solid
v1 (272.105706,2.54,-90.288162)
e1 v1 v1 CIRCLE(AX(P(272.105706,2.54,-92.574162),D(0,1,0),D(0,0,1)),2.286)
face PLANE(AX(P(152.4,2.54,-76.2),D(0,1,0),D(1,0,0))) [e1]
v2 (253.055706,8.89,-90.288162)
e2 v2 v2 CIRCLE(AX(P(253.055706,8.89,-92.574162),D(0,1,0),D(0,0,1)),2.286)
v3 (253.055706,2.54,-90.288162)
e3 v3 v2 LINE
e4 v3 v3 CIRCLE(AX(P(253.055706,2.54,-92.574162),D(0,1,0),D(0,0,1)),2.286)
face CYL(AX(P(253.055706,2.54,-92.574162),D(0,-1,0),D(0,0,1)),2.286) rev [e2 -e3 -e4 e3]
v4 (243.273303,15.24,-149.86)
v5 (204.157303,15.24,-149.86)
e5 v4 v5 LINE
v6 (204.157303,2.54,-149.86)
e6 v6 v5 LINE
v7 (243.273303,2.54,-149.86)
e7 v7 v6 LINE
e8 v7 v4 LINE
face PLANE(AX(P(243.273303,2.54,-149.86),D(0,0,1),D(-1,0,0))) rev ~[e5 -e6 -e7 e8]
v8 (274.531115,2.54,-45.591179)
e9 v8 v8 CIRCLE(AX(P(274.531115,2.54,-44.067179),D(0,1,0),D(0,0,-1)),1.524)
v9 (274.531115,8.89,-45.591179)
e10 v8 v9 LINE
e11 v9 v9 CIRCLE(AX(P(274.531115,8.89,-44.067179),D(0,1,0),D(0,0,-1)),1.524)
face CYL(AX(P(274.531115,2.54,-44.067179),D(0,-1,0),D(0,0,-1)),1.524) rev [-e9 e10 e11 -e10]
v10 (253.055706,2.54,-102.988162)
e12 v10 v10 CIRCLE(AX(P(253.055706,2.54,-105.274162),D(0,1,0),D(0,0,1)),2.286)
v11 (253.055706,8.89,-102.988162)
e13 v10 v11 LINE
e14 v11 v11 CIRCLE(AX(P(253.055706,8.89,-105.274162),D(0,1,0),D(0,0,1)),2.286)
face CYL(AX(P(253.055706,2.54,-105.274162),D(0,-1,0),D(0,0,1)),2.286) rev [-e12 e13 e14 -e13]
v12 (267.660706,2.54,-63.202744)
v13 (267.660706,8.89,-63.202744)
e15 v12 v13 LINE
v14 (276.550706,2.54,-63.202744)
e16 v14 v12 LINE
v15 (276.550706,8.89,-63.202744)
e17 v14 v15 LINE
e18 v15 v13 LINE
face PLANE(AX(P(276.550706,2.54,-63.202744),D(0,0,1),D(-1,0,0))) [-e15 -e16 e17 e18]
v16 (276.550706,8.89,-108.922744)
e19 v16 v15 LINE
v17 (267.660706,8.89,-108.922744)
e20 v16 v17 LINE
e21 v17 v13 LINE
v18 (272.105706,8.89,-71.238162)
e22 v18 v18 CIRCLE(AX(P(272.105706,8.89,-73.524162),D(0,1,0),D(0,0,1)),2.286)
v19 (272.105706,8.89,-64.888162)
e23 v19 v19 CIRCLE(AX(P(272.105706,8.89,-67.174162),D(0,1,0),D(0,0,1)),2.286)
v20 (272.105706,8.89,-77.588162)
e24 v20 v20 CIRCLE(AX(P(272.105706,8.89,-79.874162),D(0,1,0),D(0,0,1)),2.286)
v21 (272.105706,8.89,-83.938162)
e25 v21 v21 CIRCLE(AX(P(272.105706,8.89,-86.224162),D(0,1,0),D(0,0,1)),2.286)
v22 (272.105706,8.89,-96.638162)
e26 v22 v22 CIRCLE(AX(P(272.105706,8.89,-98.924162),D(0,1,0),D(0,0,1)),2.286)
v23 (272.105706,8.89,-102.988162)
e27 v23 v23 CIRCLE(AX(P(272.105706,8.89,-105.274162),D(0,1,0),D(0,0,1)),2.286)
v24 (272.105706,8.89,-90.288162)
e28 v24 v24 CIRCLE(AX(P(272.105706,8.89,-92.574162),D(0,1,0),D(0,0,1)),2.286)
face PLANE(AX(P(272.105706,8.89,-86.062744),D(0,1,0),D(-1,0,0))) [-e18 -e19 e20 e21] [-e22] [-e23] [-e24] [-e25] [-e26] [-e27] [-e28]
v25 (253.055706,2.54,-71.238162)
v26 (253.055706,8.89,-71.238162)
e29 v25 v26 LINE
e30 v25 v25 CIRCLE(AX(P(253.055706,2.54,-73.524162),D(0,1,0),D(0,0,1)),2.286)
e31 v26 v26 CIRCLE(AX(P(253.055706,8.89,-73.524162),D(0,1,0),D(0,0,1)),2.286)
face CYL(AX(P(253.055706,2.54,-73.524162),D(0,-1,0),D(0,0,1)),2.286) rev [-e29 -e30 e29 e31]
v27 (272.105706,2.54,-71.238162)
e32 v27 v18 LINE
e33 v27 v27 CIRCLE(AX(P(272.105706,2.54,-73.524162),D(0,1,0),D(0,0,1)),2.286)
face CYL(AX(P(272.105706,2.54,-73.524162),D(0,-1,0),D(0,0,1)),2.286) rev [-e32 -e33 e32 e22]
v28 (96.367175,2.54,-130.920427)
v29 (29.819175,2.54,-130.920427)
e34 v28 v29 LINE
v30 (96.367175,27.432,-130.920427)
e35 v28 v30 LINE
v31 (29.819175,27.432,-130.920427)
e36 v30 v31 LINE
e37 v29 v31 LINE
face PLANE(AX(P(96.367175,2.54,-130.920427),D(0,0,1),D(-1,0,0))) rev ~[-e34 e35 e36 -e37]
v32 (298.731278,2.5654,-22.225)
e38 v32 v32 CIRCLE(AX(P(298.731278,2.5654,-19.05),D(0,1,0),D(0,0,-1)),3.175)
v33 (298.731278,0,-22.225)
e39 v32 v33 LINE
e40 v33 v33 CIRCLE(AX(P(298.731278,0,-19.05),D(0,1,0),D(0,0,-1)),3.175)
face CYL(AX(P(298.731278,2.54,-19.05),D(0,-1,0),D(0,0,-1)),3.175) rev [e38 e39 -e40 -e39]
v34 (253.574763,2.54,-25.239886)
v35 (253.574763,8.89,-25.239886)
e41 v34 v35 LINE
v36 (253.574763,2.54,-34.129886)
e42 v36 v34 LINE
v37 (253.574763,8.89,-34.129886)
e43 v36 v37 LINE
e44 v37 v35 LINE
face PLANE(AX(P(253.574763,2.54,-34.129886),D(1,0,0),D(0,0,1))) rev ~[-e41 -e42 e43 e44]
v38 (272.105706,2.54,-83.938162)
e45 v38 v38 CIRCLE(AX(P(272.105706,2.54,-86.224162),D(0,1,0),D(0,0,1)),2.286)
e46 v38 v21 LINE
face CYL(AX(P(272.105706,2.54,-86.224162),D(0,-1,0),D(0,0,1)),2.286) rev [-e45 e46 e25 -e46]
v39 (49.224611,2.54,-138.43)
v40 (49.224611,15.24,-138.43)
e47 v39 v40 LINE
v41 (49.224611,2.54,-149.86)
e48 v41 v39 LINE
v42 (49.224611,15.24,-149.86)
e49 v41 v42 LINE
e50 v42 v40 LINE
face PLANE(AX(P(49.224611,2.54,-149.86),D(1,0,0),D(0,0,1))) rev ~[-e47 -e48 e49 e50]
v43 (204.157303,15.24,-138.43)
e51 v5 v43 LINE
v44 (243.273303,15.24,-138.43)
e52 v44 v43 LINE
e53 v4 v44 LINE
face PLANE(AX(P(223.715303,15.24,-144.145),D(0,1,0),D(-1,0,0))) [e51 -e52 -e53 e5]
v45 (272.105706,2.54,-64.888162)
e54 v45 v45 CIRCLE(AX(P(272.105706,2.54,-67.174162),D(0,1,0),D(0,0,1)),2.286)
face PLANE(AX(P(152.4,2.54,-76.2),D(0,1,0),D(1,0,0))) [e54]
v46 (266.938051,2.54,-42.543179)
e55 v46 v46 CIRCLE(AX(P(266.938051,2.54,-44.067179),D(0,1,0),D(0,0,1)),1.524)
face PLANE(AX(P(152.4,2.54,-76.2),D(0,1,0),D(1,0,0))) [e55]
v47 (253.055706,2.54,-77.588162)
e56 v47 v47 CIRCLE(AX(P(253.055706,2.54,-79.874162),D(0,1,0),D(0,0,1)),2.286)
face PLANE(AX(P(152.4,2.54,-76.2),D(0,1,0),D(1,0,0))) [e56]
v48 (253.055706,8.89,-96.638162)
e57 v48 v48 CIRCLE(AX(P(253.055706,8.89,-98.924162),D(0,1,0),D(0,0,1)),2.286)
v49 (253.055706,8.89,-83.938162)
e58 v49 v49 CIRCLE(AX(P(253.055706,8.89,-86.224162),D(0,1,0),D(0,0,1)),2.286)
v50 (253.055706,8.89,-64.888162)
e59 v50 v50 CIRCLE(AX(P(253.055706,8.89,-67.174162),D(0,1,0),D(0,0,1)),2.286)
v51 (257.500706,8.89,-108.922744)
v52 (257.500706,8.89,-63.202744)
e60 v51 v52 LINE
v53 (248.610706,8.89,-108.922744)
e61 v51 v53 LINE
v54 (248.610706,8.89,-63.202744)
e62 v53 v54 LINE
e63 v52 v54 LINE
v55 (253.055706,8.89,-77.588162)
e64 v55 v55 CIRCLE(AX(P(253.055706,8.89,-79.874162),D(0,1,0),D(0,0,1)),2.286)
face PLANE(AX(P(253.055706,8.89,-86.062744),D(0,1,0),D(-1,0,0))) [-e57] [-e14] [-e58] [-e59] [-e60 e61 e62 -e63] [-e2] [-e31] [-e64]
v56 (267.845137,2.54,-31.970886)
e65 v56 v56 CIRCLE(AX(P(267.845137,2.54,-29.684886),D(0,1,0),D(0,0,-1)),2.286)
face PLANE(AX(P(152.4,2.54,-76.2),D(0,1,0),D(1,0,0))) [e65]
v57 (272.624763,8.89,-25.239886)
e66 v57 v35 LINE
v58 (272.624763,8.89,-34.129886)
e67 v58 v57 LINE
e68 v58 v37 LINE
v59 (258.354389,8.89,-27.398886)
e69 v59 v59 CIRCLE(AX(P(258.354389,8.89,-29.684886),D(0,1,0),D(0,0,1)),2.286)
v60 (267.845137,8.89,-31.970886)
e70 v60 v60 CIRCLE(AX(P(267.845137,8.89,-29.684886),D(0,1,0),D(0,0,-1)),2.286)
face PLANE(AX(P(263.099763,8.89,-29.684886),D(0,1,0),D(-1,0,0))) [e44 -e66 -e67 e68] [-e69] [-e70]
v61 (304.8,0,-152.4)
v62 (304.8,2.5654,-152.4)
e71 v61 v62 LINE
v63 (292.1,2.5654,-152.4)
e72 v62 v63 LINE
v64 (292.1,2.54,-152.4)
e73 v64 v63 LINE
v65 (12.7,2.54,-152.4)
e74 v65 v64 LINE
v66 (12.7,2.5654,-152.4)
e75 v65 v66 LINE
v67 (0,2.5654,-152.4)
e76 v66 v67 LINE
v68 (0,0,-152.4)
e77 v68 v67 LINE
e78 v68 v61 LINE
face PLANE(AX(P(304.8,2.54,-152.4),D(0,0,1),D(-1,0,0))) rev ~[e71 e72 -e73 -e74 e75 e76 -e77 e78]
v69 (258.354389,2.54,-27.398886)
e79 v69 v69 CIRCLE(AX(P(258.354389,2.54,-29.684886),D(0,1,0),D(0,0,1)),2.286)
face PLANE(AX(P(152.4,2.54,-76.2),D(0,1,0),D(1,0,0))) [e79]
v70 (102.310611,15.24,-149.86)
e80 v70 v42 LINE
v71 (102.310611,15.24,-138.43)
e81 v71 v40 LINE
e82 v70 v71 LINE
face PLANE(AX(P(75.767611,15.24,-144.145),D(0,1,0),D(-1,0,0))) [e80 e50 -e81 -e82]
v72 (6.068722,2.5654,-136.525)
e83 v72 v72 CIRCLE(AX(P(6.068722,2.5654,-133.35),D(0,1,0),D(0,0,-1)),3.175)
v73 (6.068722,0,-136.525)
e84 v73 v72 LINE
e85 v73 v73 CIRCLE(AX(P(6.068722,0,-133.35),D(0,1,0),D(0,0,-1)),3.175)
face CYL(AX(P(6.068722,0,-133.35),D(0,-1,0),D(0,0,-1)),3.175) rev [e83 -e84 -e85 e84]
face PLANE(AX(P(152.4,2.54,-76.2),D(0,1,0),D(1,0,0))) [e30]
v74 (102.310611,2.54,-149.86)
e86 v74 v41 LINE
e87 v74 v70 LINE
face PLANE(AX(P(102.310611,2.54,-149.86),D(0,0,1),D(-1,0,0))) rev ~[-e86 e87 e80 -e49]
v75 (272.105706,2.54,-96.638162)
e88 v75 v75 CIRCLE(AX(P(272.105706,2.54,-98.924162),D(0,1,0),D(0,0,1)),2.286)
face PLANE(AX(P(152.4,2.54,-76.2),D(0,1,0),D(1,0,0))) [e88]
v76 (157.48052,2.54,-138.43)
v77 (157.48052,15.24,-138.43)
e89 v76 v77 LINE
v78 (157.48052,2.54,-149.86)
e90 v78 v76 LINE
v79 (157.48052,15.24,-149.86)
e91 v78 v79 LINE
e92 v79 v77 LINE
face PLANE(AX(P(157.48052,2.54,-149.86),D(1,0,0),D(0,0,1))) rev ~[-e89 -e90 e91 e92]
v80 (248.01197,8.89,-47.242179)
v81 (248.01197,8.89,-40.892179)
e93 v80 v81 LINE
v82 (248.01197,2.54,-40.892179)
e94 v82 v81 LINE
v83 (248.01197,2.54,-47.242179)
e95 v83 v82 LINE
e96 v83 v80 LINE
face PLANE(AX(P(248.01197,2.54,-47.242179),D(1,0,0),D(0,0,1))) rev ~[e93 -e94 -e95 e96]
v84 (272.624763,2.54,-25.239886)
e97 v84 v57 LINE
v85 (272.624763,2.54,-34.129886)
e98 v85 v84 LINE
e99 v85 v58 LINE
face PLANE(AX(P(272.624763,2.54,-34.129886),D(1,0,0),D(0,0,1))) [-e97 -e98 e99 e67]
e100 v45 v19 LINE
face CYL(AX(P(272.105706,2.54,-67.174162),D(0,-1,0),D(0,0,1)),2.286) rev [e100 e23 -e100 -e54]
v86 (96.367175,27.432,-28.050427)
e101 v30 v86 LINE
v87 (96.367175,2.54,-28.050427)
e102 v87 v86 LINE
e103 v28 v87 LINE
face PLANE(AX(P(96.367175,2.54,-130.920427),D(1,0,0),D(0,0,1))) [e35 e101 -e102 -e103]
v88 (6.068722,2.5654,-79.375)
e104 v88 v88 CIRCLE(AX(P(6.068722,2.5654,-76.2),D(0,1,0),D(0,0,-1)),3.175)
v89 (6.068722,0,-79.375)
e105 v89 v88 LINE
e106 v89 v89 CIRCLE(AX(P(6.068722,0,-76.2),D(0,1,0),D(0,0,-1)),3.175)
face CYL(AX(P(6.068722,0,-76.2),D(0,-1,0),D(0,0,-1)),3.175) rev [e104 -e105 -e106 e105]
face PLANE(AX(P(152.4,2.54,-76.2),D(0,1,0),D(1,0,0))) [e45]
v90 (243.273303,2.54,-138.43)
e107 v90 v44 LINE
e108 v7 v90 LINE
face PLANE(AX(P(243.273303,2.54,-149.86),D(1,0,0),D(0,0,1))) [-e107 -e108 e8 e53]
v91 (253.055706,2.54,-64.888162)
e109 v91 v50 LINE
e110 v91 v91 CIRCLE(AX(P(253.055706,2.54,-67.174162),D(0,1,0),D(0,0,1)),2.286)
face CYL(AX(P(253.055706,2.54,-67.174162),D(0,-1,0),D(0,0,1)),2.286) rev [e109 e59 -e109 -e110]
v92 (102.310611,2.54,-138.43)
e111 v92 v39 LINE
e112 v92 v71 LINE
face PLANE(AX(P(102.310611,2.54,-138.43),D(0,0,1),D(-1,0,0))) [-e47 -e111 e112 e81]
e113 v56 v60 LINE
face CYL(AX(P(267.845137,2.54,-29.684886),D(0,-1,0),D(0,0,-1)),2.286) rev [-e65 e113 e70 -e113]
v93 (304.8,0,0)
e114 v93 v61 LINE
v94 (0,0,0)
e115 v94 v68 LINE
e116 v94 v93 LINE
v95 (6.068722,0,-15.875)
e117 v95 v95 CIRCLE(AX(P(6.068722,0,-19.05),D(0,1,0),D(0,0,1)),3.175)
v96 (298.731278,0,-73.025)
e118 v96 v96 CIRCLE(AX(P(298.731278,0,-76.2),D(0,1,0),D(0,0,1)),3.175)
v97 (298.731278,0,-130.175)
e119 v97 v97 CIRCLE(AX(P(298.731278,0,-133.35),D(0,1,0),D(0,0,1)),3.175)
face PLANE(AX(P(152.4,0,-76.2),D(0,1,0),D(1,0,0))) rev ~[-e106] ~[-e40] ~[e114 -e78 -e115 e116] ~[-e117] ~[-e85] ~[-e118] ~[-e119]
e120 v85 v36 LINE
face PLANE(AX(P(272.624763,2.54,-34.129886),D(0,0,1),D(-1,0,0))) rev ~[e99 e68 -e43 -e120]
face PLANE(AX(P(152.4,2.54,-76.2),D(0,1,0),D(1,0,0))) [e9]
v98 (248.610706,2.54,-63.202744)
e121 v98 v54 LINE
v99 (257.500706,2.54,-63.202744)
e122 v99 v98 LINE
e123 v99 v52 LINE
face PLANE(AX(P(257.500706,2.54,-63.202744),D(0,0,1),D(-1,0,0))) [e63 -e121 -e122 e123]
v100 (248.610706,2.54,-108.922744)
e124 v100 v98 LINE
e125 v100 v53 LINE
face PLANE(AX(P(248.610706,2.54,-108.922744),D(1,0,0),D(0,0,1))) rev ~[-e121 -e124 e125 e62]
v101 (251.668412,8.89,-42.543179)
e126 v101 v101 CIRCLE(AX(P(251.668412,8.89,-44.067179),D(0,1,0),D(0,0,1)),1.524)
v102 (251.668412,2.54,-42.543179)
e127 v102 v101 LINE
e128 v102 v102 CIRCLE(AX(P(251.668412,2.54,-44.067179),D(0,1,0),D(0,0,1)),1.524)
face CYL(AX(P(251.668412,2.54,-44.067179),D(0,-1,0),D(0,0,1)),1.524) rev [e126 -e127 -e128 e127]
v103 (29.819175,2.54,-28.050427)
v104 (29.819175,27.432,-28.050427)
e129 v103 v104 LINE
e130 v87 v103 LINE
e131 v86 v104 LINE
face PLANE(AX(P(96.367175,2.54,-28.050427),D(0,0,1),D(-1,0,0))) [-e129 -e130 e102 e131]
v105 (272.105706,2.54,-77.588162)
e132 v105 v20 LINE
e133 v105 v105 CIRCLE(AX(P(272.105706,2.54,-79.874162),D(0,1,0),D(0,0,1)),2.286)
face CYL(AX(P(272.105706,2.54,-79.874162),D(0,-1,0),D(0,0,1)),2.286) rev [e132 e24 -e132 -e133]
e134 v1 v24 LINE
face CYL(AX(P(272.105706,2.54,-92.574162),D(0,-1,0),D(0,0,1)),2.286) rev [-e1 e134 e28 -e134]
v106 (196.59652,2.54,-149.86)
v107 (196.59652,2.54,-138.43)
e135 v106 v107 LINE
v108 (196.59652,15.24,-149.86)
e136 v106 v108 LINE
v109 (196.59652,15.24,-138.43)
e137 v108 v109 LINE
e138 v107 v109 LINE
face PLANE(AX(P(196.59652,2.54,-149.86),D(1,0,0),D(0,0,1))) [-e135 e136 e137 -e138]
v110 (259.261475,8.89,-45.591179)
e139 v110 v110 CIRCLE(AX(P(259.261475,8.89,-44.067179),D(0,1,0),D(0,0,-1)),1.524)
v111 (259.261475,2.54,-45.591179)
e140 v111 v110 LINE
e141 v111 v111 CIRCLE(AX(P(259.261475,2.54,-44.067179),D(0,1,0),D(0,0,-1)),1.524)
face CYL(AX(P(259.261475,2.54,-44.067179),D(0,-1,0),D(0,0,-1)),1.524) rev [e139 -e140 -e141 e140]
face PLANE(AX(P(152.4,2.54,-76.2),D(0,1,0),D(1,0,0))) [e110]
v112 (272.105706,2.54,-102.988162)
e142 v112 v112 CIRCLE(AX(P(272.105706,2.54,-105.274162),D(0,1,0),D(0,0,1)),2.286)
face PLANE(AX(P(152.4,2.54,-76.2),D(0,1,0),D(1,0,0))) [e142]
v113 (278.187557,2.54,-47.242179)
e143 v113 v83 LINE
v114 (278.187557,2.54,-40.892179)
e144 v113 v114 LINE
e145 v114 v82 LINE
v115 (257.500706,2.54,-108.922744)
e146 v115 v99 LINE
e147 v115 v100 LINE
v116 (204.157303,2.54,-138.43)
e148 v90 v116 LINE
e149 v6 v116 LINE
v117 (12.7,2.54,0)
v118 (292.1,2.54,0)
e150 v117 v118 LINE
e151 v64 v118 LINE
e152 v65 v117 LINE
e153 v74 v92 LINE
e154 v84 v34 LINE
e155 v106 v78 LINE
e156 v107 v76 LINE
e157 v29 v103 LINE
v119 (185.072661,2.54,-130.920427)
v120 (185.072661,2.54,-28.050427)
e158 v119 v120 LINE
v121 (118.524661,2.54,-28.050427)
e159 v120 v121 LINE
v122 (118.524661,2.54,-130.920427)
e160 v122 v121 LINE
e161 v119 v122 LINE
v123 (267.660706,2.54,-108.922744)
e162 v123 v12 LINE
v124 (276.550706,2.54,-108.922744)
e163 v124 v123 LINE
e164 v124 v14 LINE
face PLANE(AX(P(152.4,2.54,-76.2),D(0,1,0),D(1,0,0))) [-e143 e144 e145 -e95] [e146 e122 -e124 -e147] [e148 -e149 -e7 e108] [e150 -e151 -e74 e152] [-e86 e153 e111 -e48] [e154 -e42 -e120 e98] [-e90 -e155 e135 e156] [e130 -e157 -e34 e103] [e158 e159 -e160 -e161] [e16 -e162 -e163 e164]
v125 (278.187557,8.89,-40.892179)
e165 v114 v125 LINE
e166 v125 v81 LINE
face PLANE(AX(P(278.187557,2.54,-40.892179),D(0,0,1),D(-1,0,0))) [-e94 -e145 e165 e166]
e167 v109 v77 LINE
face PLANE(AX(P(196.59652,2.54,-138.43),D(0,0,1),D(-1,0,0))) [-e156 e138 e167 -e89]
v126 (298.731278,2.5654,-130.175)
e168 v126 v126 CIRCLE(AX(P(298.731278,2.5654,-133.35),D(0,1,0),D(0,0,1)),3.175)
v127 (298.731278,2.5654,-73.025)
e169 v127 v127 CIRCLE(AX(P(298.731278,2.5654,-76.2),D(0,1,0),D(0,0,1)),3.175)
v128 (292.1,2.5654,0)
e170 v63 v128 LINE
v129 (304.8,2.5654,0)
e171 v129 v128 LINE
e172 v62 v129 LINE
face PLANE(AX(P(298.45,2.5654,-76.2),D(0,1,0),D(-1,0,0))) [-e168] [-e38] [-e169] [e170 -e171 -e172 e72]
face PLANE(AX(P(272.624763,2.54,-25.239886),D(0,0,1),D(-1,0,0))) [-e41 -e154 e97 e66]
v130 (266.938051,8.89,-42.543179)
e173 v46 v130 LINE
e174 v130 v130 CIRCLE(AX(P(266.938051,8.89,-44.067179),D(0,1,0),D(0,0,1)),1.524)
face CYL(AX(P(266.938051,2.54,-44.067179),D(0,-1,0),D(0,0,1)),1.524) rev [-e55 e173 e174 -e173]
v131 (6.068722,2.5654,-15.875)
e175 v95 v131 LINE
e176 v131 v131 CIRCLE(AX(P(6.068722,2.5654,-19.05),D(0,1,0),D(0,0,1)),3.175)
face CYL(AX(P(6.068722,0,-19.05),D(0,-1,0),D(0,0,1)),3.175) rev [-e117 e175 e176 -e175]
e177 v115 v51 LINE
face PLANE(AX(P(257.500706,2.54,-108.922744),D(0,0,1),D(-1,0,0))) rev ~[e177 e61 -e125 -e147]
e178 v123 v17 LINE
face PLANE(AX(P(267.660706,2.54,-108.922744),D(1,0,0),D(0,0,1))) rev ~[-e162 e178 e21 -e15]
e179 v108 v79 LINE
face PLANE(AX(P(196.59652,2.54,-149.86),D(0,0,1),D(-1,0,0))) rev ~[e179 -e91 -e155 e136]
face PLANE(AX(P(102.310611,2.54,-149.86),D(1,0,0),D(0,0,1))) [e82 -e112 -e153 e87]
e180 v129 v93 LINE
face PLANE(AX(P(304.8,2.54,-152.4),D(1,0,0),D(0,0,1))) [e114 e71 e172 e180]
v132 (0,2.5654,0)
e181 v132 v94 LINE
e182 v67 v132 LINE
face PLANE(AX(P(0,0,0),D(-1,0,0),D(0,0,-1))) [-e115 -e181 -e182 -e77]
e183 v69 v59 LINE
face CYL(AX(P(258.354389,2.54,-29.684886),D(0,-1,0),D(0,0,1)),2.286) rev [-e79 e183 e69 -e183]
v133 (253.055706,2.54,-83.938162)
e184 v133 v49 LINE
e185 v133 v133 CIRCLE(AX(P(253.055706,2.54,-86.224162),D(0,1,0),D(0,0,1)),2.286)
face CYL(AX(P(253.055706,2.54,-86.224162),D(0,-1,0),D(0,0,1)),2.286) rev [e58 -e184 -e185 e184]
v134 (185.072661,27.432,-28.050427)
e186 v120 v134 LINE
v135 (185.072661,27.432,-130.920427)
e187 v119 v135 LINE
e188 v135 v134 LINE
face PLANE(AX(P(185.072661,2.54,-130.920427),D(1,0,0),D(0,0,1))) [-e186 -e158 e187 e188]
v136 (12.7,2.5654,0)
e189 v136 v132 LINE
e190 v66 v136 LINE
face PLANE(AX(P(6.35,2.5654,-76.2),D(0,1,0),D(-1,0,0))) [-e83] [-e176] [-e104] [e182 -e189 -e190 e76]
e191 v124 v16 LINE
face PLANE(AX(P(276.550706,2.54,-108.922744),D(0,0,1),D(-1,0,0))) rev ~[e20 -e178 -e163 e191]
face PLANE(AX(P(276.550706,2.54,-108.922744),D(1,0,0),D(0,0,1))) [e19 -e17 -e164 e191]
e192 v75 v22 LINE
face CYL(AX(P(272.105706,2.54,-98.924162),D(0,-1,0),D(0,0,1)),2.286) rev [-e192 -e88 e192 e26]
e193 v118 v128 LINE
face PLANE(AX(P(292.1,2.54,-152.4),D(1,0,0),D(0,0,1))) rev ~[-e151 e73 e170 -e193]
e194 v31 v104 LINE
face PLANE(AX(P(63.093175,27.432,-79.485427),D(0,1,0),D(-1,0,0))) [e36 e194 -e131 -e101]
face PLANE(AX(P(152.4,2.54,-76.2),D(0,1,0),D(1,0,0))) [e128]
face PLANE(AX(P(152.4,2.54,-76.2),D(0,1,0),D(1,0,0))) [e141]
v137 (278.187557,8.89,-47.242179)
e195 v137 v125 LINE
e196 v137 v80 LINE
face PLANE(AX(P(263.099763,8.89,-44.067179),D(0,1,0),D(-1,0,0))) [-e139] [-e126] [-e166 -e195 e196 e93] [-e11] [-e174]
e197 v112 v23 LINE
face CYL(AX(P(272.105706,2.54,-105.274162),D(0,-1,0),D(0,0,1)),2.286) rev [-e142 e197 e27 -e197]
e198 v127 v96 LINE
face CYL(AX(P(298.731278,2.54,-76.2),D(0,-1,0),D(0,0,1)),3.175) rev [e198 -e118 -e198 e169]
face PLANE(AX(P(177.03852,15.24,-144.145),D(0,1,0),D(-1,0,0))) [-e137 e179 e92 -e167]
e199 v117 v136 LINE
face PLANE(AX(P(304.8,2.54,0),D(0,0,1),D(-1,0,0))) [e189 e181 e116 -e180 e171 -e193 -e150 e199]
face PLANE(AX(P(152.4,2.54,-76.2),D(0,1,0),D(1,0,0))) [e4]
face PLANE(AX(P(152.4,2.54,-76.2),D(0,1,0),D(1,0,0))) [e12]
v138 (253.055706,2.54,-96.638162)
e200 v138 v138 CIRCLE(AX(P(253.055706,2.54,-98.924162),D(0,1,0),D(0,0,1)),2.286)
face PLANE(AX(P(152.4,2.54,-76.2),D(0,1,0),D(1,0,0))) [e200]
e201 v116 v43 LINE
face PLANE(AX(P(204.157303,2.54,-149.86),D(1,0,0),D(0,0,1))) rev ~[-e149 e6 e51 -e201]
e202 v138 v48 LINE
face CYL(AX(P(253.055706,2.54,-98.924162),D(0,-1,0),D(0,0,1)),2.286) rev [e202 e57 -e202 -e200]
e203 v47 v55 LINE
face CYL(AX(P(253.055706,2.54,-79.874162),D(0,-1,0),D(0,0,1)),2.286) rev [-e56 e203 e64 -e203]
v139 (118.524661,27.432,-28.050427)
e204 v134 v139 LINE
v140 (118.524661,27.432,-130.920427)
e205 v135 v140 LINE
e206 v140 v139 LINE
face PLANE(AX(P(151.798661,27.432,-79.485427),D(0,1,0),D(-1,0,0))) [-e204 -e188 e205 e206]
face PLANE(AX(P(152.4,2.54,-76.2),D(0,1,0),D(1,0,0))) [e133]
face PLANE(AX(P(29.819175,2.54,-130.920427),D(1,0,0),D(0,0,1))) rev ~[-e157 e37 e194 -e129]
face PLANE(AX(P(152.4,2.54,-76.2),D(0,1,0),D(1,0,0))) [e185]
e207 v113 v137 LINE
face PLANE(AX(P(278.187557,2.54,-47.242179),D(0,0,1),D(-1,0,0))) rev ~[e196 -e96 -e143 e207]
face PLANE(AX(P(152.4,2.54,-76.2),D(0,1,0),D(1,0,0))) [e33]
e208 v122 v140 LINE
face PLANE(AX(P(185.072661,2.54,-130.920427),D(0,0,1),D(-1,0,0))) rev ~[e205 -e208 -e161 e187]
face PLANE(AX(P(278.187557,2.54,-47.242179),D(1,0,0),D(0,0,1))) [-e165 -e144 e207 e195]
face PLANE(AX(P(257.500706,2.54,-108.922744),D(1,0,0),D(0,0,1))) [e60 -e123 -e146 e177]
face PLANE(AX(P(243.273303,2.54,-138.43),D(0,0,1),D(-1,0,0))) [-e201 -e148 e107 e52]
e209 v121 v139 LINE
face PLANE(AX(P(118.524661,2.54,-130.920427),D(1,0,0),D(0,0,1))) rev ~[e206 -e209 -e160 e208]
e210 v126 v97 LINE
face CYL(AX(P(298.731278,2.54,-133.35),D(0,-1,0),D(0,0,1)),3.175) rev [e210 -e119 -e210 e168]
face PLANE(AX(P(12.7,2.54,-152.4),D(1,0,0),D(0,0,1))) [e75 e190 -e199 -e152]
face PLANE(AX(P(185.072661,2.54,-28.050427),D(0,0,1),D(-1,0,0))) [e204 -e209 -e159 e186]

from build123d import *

# Parameters (mm, degrees)
SKETCH1_W              = 304.8
SKETCH1_H              = 152.4
SKETCH1_R              = 3.175
BOARD_DEPTH            = 2.54
SKETCH2_W              = 66.548
SKETCH2_H              = 102.87
ACCELNET_DEPTH         = 24.892
SKETCH3_W              = 53.086
SKETCH3_H              = 11.43
D25TOCOMPUTER_DEPTH    = 12.7
SKETCH5_W              = 39.116
SKETCH5_H              = 11.43
D15TOMOTOR_BRAKE_DEPTH = 12.7
SKETCH7_W              = 19.05
SKETCH7_H              = 8.89
SKETCH7_R              = 2.286
SKETCH7_W_2            = 30.175587071
SKETCH7_H_2            = 6.35
SKETCH7_R_2            = 1.524
HVIN_24VIN_5VIN_DEPTH  = 6.35
SKETCH9_W              = 8.89
SKETCH9_H              = 45.72
SKETCH9_R              = 2.286
MOTORS_BRAKES_DEPTH    = 6.35
SKETCH10_W             = 12.7
SKETCH10_H             = 152.4
SKETCH10_R             = 3.175
PLATEDEDGE_DEPTH       = 0.0254


with BuildPart() as part:
    # Sketch1 → Board (new body)
    with BuildSketch(Plane(origin=(0, 0, 0), x_dir=(1, 0, 0), z_dir=(0, 1, 0))):
        with Locations((152.4, 76.2)):
            Rectangle(SKETCH1_W, SKETCH1_H)
        with Locations(Location((298.731278283, 76.2, 0), (0, 0, 270))):
            Circle(SKETCH1_R, mode=Mode.SUBTRACT)
        with Locations(Location((298.731278283, 133.35, 0), (0, 0, 270))):
            Circle(SKETCH1_R, mode=Mode.SUBTRACT)
        with Locations(Location((298.731278283, 19.05, 0), (0, 0, 90))):
            Circle(SKETCH1_R, mode=Mode.SUBTRACT)
        with Locations(Location((6.068721717, 19.05, 0), (0, 0, 270))):
            Circle(SKETCH1_R, mode=Mode.SUBTRACT)
        with Locations(Location((6.068721717, 76.2, 0), (0, 0, 90))):
            Circle(SKETCH1_R, mode=Mode.SUBTRACT)
        with Locations(Location((6.068721717, 133.35, 0), (0, 0, 90))):
            Circle(SKETCH1_R, mode=Mode.SUBTRACT)
    extrude(amount=BOARD_DEPTH)

    # Sketch2 → Accelnet (add)
    with BuildSketch(Plane(origin=(0, 2.54, 0), x_dir=(-1, 0, 0), z_dir=(0, 1, 0))):
        with Locations((-63.093174763, -79.48542652)):
            Rectangle(SKETCH2_W, SKETCH2_H)
        with Locations((-151.798661476, -79.48542652)):
            Rectangle(SKETCH2_W, SKETCH2_H)
    extrude(amount=ACCELNET_DEPTH)

    # Sketch3 → D25toComputer (add)
    with BuildSketch(Plane(origin=(0, 2.54, 0), x_dir=(-1, 0, 0), z_dir=(0, 1, 0))):
        with Locations((-75.767610713, -144.145)):
            Rectangle(SKETCH3_W, SKETCH3_H)
    extrude(amount=D25TOCOMPUTER_DEPTH)

    # Sketch5 → D15toMotor/Brake (add)
    with BuildSketch(Plane(origin=(0, 2.54, 0), x_dir=(-1, 0, 0), z_dir=(0, 1, 0))):
        with Locations((-177.038519959, -144.145)):
            Rectangle(SKETCH5_W, SKETCH5_H)
        with Locations((-223.715302991, -144.145)):
            Rectangle(SKETCH5_W, SKETCH5_H)
    extrude(amount=D15TOMOTOR_BRAKE_DEPTH)

    # Sketch7 → HVin/24Vin/5Vin (add)
    # profile 1 of 2: a face of its own
    with BuildSketch(Plane(origin=(0, 2.54, 0), x_dir=(-1, 0, 0), z_dir=(0, 1, 0))):
        with Locations((-263.099763315, -29.684886318)):
            Rectangle(SKETCH7_W, SKETCH7_H)
        with Locations(Location((-258.354389381, -29.684886318, 0), (0, 0, 90))):
            Circle(SKETCH7_R, mode=Mode.SUBTRACT)
        with Locations(Location((-267.845137249, -29.684886318, 0), (0, 0, 270))):
            Circle(SKETCH7_R, mode=Mode.SUBTRACT)
    # profile 2 of 2: a face of its own
    with BuildSketch(Plane(origin=(0, 2.54, 0), x_dir=(-1, 0, 0), z_dir=(0, 1, 0))):
        with Locations((-263.099763315, -44.067178792)):
            Rectangle(SKETCH7_W_2, SKETCH7_H_2)
        with Locations(Location((-266.938051441, -44.067178792, 0), (0, 0, 90))):
            Circle(SKETCH7_R_2, mode=Mode.SUBTRACT)
        with Locations(Location((-274.531114606, -44.067178792, 0), (0, 0, 270))):
            Circle(SKETCH7_R_2, mode=Mode.SUBTRACT)
        with Locations(Location((-251.668412024, -44.067178792, 0), (0, 0, 90))):
            Circle(SKETCH7_R_2, mode=Mode.SUBTRACT)
        with Locations(Location((-259.261475189, -44.067178792, 0), (0, 0, 270))):
            Circle(SKETCH7_R_2, mode=Mode.SUBTRACT)
    extrude(amount=HVIN_24VIN_5VIN_DEPTH)

    # Sketch9 → Motors/Brakes (add)
    # profile 1 of 2: a face of its own
    with BuildSketch(Plane(origin=(0, 2.54, 0), x_dir=(-1, 0, 0), z_dir=(0, 1, 0))):
        with Locations((-272.10570634, -86.062744457)):
            Rectangle(SKETCH9_W, SKETCH9_H)
        with Locations(Location((-272.10570634, -73.524162022, 0), (0, 0, 90))):
            Circle(SKETCH9_R, mode=Mode.SUBTRACT)
        with Locations(Location((-272.10570634, -67.174162022, 0), (0, 0, 90))):
            Circle(SKETCH9_R, mode=Mode.SUBTRACT)
        with Locations(Location((-272.10570634, -86.224162022, 0), (0, 0, 90))):
            Circle(SKETCH9_R, mode=Mode.SUBTRACT)
        with Locations(Location((-272.10570634, -79.874162022, 0), (0, 0, 90))):
            Circle(SKETCH9_R, mode=Mode.SUBTRACT)
        with Locations(Location((-272.10570634, -98.924162022, 0), (0, 0, 90))):
            Circle(SKETCH9_R, mode=Mode.SUBTRACT)
        with Locations(Location((-272.10570634, -92.574162022, 0), (0, 0, 90))):
            Circle(SKETCH9_R, mode=Mode.SUBTRACT)
        with Locations(Location((-272.10570634, -105.274162022, 0), (0, 0, 90))):
            Circle(SKETCH9_R, mode=Mode.SUBTRACT)
    # profile 2 of 2: a face of its own
    with BuildSketch(Plane(origin=(0, 2.54, 0), x_dir=(-1, 0, 0), z_dir=(0, 1, 0))):
        with Locations((-253.05570634, -86.062744457)):
            Rectangle(SKETCH9_W, SKETCH9_H)
        with Locations(Location((-253.05570634, -79.874162022, 0), (0, 0, 90))):
            Circle(SKETCH9_R, mode=Mode.SUBTRACT)
        with Locations(Location((-253.05570634, -67.174162022, 0), (0, 0, 90))):
            Circle(SKETCH9_R, mode=Mode.SUBTRACT)
        with Locations(Location((-253.05570634, -98.924162022, 0), (0, 0, 90))):
            Circle(SKETCH9_R, mode=Mode.SUBTRACT)
        with Locations(Location((-253.05570634, -105.274162022, 0), (0, 0, 90))):
            Circle(SKETCH9_R, mode=Mode.SUBTRACT)
        with Locations(Location((-253.05570634, -73.524162022, 0), (0, 0, 90))):
            Circle(SKETCH9_R, mode=Mode.SUBTRACT)
        with Locations(Location((-253.05570634, -86.224162022, 0), (0, 0, 90))):
            Circle(SKETCH9_R, mode=Mode.SUBTRACT)
        with Locations(Location((-253.05570634, -92.574162022, 0), (0, 0, 90))):
            Circle(SKETCH9_R, mode=Mode.SUBTRACT)
    extrude(amount=MOTORS_BRAKES_DEPTH)

    # Sketch10 → platedEdge (add)
    # profile 1 of 2: a face of its own
    with BuildSketch(Plane(origin=(0, 2.54, 0), x_dir=(-1, 0, 0), z_dir=(0, 1, 0))):
        with Locations((-298.45, -76.2)):
            Rectangle(SKETCH10_W, SKETCH10_H)
        with Locations(Location((-298.731278283, -133.35, 0), (0, 0, 90))):
            Circle(SKETCH10_R, mode=Mode.SUBTRACT)
        with Locations(Location((-298.731278283, -76.2, 0), (0, 0, 90))):
            Circle(SKETCH10_R, mode=Mode.SUBTRACT)
        with Locations(Location((-298.731278283, -19.05, 0), (0, 0, 270))):
            Circle(SKETCH10_R, mode=Mode.SUBTRACT)
    # profile 2 of 2: a face of its own
    with BuildSketch(Plane(origin=(0, 2.54, 0), x_dir=(-1, 0, 0), z_dir=(0, 1, 0))):
        with Locations((-6.35, -76.2)):
            Rectangle(SKETCH10_W, SKETCH10_H)
        with Locations(Location((-6.068721717, -19.05, 0), (0, 0, 90))):
            Circle(SKETCH10_R, mode=Mode.SUBTRACT)
        with Locations(Location((-6.068721717, -76.2, 0), (0, 0, 270))):
            Circle(SKETCH10_R, mode=Mode.SUBTRACT)
        with Locations(Location((-6.068721717, -133.35, 0), (0, 0, 270))):
            Circle(SKETCH10_R, mode=Mode.SUBTRACT)
    extrude(amount=PLATEDEDGE_DEPTH)


solid = part.part
